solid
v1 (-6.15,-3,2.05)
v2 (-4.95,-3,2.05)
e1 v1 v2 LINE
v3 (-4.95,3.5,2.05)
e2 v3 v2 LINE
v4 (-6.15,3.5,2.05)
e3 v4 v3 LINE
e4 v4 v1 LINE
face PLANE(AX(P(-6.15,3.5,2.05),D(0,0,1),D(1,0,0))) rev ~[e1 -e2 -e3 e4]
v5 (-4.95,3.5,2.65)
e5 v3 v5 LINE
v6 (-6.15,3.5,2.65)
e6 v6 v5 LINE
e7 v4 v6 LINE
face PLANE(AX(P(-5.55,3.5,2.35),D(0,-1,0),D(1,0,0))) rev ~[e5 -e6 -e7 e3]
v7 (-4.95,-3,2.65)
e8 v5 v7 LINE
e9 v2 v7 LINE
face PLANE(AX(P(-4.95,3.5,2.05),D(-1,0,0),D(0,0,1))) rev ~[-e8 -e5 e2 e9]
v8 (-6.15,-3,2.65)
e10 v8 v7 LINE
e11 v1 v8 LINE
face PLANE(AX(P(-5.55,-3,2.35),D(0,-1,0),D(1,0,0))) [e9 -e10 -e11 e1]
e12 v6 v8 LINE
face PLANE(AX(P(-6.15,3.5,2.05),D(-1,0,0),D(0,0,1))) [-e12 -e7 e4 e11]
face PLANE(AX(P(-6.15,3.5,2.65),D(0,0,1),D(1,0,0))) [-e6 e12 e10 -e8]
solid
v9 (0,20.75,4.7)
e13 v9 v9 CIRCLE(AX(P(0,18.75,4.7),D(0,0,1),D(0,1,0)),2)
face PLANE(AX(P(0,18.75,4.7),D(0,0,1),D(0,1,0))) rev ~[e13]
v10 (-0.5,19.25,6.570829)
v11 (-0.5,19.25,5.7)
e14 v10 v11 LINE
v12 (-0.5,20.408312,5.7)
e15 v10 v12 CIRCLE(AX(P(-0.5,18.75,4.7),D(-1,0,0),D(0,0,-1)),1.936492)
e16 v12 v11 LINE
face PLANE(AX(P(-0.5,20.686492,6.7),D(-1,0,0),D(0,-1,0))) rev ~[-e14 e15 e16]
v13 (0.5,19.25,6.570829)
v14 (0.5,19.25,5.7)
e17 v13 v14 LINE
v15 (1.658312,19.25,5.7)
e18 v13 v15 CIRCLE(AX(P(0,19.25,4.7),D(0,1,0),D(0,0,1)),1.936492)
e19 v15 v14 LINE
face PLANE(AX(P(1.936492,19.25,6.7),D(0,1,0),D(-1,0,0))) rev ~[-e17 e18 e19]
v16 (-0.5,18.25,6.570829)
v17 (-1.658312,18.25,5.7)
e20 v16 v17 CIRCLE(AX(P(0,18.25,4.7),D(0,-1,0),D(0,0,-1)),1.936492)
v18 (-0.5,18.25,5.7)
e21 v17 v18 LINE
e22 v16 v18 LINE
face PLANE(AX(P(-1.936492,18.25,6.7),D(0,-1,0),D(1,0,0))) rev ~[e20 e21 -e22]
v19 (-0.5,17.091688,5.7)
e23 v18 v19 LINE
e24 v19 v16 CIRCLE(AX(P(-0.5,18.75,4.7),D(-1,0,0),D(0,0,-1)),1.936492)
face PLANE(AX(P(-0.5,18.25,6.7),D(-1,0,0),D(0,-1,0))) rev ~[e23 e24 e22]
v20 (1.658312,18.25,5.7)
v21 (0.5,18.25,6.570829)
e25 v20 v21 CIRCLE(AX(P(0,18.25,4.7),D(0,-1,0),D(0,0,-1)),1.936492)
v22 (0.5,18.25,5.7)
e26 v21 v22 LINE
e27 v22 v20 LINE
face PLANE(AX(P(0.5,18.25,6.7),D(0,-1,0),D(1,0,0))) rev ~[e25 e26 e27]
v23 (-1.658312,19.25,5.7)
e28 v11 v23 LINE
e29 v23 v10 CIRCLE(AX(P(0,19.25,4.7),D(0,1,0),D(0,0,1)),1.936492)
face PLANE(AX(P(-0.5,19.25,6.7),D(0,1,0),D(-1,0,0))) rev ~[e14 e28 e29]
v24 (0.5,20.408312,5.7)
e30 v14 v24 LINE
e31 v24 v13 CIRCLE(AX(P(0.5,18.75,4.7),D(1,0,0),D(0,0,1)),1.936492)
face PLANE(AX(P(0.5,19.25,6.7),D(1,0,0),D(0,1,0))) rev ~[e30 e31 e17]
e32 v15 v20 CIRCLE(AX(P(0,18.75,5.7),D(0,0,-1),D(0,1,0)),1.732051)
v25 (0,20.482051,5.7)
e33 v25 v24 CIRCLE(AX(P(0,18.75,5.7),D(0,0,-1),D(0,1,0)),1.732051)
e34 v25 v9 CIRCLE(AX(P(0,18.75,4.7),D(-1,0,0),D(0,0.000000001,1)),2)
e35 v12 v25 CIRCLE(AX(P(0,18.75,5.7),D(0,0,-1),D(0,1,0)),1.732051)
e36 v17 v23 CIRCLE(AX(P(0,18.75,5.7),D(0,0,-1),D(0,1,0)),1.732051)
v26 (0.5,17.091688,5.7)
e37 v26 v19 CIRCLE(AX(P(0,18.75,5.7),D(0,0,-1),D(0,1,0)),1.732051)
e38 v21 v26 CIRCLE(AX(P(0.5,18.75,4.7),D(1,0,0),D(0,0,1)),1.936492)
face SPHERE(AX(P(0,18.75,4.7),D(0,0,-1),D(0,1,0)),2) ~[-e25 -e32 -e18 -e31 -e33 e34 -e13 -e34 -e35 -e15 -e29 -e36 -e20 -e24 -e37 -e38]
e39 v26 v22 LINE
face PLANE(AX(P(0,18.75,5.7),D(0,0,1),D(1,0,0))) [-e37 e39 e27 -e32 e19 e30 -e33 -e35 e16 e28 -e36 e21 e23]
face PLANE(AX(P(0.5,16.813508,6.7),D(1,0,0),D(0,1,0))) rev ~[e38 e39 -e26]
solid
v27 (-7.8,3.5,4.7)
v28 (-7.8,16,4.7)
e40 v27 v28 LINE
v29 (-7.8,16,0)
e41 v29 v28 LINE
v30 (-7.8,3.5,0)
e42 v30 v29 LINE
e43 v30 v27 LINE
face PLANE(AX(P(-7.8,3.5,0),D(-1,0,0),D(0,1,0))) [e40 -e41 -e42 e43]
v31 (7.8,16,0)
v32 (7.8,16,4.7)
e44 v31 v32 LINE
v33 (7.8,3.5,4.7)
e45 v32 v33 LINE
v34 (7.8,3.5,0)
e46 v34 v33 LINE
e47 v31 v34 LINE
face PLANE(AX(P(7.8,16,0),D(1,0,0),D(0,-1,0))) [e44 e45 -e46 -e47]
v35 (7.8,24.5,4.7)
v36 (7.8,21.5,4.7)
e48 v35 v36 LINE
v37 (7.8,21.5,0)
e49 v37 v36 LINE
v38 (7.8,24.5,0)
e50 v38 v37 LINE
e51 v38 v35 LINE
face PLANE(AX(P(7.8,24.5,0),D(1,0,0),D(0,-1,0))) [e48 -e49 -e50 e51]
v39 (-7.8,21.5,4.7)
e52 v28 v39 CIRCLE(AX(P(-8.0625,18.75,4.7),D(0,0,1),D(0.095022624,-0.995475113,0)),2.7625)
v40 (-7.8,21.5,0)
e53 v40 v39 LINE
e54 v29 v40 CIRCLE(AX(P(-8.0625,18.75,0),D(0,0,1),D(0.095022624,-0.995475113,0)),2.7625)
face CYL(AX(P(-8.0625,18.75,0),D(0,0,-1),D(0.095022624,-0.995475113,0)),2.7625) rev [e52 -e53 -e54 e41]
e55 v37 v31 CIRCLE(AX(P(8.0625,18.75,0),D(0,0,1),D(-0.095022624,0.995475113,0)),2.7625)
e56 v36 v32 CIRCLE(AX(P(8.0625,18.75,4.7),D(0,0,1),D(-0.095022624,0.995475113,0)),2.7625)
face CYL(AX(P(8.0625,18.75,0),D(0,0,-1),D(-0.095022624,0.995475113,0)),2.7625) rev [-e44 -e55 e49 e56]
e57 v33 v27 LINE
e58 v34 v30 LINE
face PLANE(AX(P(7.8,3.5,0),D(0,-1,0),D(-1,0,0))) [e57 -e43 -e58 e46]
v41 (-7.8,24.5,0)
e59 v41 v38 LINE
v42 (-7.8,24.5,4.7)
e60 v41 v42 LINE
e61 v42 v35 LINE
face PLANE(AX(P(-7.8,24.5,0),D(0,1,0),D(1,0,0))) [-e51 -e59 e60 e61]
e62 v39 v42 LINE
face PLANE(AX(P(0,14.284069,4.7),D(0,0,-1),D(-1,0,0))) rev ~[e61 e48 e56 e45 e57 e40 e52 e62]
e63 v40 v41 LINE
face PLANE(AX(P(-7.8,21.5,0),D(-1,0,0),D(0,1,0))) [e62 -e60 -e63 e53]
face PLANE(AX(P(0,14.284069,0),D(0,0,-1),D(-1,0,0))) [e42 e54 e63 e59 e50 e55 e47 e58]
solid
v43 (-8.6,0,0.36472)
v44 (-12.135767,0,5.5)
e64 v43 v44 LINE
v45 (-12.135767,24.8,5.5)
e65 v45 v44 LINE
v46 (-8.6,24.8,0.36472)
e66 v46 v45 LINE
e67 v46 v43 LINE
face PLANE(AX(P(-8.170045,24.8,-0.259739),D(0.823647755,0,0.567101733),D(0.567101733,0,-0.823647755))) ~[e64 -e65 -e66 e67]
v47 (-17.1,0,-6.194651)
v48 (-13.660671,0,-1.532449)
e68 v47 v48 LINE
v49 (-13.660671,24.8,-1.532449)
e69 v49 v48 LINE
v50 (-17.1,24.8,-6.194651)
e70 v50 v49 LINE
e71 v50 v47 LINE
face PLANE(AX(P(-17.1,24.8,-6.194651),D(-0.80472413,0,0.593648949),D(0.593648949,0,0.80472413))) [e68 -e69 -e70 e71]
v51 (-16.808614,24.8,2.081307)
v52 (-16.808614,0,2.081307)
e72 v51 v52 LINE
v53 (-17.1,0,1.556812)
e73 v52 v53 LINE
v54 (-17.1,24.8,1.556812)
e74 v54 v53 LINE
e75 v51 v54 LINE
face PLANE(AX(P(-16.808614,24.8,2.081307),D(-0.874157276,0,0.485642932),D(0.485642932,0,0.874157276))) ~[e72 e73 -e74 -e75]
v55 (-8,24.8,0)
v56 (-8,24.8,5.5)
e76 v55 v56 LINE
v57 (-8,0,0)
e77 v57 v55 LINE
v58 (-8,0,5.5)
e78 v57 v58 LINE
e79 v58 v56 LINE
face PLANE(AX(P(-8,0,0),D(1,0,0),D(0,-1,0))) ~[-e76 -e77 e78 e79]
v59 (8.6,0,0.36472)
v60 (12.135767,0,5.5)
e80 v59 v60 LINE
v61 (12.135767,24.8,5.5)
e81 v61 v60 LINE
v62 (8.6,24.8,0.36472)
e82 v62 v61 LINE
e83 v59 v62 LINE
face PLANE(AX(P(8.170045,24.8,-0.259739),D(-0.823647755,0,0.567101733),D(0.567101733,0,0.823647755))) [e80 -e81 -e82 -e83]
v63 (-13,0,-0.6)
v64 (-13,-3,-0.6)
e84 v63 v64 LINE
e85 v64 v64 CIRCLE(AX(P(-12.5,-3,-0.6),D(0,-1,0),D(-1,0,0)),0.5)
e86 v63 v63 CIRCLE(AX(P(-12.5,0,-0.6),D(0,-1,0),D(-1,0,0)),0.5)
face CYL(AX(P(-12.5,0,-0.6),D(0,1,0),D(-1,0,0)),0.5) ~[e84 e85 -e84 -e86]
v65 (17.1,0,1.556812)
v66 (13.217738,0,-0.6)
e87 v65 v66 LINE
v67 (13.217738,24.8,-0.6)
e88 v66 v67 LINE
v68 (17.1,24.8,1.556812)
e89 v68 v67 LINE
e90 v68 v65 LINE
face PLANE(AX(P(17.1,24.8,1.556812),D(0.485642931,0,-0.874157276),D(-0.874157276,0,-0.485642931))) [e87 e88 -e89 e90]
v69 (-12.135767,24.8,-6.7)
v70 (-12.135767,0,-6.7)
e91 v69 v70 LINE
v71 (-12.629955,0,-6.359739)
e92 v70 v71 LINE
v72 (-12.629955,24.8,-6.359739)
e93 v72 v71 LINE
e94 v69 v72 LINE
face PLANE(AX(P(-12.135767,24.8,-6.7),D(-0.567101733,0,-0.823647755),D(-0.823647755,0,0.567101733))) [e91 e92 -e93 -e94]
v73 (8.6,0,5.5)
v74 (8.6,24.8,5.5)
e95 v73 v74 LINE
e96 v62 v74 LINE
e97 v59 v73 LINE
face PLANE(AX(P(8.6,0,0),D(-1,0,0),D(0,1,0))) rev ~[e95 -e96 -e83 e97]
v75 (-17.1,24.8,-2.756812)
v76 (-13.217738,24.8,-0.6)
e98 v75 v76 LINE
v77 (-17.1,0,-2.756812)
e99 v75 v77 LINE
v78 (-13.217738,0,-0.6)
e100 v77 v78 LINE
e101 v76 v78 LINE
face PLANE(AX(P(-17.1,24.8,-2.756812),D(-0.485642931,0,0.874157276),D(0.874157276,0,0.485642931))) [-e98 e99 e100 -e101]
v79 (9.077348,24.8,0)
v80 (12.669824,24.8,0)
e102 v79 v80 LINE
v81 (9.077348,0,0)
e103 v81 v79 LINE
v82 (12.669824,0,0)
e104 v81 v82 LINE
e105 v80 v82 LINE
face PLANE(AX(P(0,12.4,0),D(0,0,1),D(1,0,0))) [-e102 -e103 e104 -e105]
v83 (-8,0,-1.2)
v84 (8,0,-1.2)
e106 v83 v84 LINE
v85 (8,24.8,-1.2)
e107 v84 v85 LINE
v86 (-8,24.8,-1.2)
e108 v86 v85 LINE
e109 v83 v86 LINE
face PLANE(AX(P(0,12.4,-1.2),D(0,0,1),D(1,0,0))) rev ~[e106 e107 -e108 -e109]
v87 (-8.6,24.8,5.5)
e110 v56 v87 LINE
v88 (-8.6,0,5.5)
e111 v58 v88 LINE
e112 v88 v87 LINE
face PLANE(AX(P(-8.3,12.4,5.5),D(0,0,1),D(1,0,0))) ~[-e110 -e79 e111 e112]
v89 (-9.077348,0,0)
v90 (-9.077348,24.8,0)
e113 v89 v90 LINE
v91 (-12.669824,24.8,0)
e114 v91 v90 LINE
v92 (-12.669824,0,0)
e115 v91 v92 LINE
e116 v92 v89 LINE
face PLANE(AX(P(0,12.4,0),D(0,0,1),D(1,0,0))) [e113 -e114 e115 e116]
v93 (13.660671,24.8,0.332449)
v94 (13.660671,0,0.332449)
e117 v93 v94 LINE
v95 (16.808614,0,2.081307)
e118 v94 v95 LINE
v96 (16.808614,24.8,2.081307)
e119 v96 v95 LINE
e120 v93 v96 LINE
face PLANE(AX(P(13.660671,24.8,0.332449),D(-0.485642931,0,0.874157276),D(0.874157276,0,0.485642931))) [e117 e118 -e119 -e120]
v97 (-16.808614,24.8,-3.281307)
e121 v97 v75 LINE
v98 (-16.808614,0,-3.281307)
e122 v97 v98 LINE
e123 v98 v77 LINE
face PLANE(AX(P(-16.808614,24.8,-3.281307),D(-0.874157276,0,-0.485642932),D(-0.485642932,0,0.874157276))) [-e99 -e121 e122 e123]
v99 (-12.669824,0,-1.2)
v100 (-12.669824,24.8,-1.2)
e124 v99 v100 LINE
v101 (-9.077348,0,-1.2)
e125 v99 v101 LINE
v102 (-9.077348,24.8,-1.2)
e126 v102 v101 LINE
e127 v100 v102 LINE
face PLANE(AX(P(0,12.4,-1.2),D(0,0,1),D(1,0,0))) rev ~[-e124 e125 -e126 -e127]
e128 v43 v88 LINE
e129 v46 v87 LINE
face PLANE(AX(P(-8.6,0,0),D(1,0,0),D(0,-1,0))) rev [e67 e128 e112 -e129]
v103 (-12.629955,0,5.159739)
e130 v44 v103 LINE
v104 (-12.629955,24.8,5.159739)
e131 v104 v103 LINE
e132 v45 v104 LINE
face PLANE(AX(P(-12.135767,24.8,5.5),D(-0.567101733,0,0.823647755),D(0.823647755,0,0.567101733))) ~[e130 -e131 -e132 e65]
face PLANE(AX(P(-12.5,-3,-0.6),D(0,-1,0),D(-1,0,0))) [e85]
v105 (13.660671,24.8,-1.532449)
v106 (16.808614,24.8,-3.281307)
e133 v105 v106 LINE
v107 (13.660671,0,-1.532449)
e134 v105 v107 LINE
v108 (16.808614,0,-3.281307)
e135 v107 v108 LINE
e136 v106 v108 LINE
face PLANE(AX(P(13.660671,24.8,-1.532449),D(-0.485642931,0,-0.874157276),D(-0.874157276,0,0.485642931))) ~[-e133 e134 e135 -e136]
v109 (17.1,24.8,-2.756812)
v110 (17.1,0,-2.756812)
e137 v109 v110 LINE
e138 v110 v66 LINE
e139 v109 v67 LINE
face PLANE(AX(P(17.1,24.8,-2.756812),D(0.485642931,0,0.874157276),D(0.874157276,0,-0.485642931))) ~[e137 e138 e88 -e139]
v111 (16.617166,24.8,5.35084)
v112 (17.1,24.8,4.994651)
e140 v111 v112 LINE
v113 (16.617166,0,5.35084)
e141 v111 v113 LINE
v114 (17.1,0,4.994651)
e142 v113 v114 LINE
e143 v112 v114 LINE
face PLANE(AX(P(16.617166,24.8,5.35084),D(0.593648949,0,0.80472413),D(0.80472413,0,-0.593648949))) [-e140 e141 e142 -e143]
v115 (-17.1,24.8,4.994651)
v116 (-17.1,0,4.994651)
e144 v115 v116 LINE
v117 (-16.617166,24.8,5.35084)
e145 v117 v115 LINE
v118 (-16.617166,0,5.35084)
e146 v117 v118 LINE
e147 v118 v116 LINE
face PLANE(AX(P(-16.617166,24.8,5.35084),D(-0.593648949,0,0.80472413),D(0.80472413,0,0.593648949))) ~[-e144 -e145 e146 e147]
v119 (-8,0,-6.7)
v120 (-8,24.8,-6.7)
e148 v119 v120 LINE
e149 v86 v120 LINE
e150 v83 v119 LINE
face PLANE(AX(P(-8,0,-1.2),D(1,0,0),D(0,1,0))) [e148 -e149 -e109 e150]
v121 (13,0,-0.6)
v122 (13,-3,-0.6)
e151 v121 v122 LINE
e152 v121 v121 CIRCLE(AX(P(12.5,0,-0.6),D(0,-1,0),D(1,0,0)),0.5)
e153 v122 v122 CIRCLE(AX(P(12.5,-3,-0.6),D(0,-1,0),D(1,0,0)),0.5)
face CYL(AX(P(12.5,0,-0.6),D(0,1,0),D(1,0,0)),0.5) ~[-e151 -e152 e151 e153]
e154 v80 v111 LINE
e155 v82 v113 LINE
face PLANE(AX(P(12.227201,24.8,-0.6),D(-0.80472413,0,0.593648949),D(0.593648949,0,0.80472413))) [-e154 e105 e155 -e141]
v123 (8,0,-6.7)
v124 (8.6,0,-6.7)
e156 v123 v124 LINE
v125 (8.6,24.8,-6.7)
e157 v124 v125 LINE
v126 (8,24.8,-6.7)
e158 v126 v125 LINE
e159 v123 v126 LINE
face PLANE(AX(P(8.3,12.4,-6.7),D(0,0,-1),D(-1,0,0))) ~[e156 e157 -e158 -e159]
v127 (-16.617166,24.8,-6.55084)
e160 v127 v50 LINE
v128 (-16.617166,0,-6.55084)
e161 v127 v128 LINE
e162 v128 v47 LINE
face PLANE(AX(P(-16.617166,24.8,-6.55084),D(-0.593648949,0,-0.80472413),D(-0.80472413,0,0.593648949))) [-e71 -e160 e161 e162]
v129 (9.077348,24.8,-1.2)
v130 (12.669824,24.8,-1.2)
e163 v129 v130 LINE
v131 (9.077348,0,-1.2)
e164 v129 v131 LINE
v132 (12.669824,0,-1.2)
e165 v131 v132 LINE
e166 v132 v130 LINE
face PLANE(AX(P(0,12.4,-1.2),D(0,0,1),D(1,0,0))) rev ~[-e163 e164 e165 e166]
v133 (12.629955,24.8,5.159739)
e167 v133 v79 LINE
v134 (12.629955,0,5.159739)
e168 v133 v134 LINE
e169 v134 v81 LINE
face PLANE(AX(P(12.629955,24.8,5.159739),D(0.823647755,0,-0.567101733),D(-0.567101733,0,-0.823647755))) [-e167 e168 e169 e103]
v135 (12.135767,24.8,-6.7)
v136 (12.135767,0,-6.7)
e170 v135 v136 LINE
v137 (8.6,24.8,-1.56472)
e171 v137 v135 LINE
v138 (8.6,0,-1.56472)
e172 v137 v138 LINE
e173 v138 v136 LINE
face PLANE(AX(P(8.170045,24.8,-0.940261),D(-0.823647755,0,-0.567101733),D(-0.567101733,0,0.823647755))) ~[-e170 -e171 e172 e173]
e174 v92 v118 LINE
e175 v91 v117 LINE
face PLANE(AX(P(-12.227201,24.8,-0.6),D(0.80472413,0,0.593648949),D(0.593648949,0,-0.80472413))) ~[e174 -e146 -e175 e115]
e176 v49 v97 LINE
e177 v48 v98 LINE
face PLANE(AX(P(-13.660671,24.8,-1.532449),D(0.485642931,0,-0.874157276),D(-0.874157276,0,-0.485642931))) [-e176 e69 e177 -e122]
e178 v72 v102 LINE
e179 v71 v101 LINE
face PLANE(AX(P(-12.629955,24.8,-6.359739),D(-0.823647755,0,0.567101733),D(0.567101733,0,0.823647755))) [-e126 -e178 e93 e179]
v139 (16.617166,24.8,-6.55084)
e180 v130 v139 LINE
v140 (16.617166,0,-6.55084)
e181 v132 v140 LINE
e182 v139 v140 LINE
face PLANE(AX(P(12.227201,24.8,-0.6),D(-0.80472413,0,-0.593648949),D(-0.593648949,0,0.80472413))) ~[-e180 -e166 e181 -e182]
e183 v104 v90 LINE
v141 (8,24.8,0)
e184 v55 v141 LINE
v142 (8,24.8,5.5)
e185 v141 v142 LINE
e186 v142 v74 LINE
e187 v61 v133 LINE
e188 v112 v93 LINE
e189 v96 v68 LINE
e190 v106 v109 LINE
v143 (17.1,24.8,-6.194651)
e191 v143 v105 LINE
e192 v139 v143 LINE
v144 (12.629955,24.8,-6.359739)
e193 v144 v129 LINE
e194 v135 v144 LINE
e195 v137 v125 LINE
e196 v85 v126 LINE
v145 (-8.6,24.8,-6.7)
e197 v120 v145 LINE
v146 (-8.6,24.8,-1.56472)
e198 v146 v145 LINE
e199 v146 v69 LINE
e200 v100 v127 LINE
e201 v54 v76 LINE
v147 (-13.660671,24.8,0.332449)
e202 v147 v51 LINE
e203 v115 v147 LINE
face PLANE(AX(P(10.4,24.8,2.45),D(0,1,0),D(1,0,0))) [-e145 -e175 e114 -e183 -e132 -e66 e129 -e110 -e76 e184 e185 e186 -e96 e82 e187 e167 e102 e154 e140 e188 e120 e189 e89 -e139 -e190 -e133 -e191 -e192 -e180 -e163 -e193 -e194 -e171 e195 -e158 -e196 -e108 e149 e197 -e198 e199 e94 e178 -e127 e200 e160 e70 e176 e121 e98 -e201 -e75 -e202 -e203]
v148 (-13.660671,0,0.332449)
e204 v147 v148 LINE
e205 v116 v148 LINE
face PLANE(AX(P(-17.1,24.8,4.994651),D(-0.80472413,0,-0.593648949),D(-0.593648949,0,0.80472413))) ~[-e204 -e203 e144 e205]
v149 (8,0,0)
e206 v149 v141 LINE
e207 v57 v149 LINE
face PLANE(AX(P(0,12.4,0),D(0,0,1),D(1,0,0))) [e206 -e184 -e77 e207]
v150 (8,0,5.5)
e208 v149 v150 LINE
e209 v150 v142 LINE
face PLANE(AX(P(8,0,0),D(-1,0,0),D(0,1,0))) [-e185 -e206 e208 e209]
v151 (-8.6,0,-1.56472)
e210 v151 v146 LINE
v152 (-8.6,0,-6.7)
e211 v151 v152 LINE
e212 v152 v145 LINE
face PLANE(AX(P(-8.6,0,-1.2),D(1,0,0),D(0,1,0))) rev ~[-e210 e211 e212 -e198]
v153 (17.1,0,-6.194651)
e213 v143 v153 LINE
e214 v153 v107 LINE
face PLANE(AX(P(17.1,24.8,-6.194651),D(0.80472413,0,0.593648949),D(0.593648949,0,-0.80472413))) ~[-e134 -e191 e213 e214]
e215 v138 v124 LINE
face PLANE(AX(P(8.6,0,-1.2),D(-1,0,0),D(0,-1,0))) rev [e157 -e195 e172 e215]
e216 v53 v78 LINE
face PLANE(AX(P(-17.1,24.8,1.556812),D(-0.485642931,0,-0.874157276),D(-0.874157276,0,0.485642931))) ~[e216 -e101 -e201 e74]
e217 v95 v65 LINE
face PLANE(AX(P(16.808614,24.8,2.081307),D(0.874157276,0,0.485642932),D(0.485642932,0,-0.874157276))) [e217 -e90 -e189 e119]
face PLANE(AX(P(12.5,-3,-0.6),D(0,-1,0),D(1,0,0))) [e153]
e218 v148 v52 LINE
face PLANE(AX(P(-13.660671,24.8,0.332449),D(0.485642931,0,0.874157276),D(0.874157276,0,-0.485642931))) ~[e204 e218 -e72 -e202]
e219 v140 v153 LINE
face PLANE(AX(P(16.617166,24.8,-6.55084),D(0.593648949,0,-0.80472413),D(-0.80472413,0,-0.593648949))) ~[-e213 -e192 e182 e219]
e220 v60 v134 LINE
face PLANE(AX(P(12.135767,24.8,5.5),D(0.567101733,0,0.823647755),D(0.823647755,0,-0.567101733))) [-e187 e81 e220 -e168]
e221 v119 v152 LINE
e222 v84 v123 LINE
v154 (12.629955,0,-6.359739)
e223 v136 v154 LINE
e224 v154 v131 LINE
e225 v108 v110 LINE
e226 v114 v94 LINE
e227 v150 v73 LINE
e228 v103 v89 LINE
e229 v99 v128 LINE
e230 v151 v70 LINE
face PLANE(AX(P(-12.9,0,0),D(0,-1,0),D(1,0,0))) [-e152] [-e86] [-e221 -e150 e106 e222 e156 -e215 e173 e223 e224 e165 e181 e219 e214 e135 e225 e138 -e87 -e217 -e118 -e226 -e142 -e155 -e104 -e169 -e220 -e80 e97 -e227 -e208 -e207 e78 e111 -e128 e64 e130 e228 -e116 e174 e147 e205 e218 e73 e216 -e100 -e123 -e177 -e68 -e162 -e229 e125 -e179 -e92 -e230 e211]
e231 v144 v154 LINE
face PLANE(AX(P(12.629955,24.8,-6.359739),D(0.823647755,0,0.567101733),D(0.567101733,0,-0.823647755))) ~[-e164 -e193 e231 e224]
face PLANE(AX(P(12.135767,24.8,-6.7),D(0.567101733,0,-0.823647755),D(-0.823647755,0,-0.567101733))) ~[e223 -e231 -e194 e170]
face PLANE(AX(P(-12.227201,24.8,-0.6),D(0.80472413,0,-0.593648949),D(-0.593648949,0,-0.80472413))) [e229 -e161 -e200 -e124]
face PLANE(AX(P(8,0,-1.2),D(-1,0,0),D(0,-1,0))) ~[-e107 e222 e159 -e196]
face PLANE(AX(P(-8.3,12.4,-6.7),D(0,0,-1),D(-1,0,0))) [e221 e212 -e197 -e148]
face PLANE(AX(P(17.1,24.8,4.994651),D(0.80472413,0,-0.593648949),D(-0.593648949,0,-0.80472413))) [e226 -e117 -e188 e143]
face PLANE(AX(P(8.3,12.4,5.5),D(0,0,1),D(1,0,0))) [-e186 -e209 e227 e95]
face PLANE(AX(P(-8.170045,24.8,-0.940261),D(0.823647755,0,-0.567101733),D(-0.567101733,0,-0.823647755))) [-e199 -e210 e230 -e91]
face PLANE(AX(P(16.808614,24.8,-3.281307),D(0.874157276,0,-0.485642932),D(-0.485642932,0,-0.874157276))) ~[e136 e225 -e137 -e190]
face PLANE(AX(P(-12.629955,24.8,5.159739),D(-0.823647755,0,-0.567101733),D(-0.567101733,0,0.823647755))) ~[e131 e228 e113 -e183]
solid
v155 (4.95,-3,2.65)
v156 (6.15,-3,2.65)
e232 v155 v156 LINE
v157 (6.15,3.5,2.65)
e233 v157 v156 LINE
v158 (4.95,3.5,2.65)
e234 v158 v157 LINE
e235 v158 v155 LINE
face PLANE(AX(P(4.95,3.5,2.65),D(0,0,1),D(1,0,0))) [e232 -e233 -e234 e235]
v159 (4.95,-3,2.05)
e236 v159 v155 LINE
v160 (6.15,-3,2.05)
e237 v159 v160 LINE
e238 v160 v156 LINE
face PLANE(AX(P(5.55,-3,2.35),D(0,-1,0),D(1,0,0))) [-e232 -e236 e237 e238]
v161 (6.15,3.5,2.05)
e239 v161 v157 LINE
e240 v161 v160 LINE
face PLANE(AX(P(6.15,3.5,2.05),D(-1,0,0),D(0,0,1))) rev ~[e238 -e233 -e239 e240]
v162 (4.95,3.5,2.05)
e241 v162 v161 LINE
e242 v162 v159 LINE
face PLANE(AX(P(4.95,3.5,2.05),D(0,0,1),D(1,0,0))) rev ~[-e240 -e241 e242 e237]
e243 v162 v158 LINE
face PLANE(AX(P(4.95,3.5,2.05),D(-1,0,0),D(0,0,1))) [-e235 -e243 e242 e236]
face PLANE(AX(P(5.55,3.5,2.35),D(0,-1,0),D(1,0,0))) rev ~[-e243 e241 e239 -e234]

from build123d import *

# Parameters (mm, degrees)
CROQUIS1_W                = 25.8
CROQUIS1_H                = 24.8
SALIENTE_EXTRUIR1_DEPTH   = 1.2
CROQUIS2_W                = 0.6
CROQUIS2_H                = 24.8
SALIENTE_EXTRUIR2_DEPTH   = 5.5
SALIENTE_EXTRUIR3_DEPTH   = 24.8
SIMETR_A2_COPY_1_SKETCH_W = 0.6
SIMETR_A2_COPY_1_SKETCH_H = 24.8
SIMETR_A2_COPY_1_DEPTH    = 5.5
SIMETR_A2_COPY_2_DEPTH    = 24.8
CROQUIS4_R                = 0.5
SALIENTE_EXTRUIR4_DEPTH   = 3
SALIENTE_EXTRUIR5_DEPTH   = 4.7
CROQUIS6_W                = 1.2
CROQUIS6_H                = 0.6
SALIENTE_EXTRUIR6_DEPTH   = 6.5
SALIENTE_EXTRUIR6_2_DEPTH = 6.5
CORTAR_EXTRUIR1_DEPTH     = 1


with BuildPart() as part:
    # Croquis1 → Saliente-Extruir1 (new body)
    with BuildSketch(Plane.XY):
        with Locations((0, 12.4)):
            Rectangle(CROQUIS1_W, CROQUIS1_H)
    extrude(amount=-SALIENTE_EXTRUIR1_DEPTH)

    # Croquis2 → Saliente-Extruir2 (add)
    with BuildSketch(Plane.XY):
        with Locations((8.3, 12.4)):
            Rectangle(CROQUIS2_W, CROQUIS2_H)
    saliente_extruir2 = extrude(amount=SALIENTE_EXTRUIR2_DEPTH)

    # Croquis3 → Saliente-Extruir3 (add)
    with BuildSketch(Plane(origin=(0, 24.8, 0), x_dir=(1, 0, 0), z_dir=(0, 1, 0))):
        Polygon((8.17004472, 0.25973896), (12.135766627, -5.5), (12.62995528, -5.15973896), (8.664233373, 0.6), align=None)
        Polygon((12.227201436, 0.6), (16.617165522, -5.350840205), (17.1, -4.994650836), (13.660671044, -0.332449363), (16.808614241, -2.081306694), (17.1, -1.556812329), (12.802701866, 0.830575524), (12.710035914, 0.956189369), align=None)
    saliente_extruir3 = extrude(amount=-SALIENTE_EXTRUIR3_DEPTH)

    # Simetría1: Saliente-Extruir2, Saliente-Extruir3 across plane
    add(saliente_extruir2.mirror(Plane.XY.offset(-0.6)))
    add(saliente_extruir3.mirror(Plane.XY.offset(-0.6)))

    # Simetría2: Saliente-Extruir2, Saliente-Extruir3 across plane
    add(saliente_extruir2.mirror(Plane(origin=(0, 0, 0), x_dir=(0, 0, 1), z_dir=(1, 0, 0))))
    add(saliente_extruir3.mirror(Plane(origin=(0, 0, 0), x_dir=(0, 0, 1), z_dir=(1, 0, 0))))

    # Simetría2 copy 1 sketch → Simetría2 copy 1 (add)
    with BuildSketch(Plane(origin=(0, 0, -1.2), x_dir=(-1, 0, 0), z_dir=(0, 0, -1))):
        with Locations((8.3, 12.4)):
            Rectangle(SIMETR_A2_COPY_1_SKETCH_W, SIMETR_A2_COPY_1_SKETCH_H)
    extrude(amount=SIMETR_A2_COPY_1_DEPTH)

    # Simetría2 copy 2 sketch → Simetría2 copy 2 (add)
    with BuildSketch(Plane(origin=(0, 24.8, -1.2), x_dir=(-1, 0, 0), z_dir=(0, 1, 0))):
        Polygon((8.17004472, 0.25973896), (12.135766627, -5.5), (12.62995528, -5.15973896), (8.664233373, 0.6), align=None)
        Polygon((12.227201436, 0.6), (16.617165522, -5.350840205), (17.1, -4.994650836), (13.660671044, -0.332449363), (16.808614241, -2.081306694), (17.1, -1.556812329), (12.802701866, 0.830575524), (12.710035914, 0.956189369), align=None)
    extrude(amount=-SIMETR_A2_COPY_2_DEPTH)

    # Croquis4 → Saliente-Extruir4 (add)
    with BuildSketch(Plane.XZ):
        with Locations((12.5, -0.6)):
            Circle(CROQUIS4_R)
        with Locations(Location((-12.5, -0.6, 0), (0, 0, 180))):
            Circle(CROQUIS4_R)
    extrude(amount=SALIENTE_EXTRUIR4_DEPTH)


with BuildPart() as body_2:
    # Croquis5 → Saliente-Extruir5 (new body)
    with BuildSketch(Plane.XY):
        with BuildLine():
            Line((-7.8, 24.5), (7.8, 24.5))
            Line((7.8, 24.5), (7.8, 21.5))
            ThreePointArc((7.8, 21.5), (5.3, 18.75), (7.8, 16))
            Line((7.8, 16), (7.8, 3.5))
            Line((7.8, 3.5), (-7.8, 3.5))
            Line((-7.8, 3.5), (-7.8, 16))
            ThreePointArc((-7.8, 16), (-5.3, 18.75), (-7.8, 21.5))
            Line((-7.8, 21.5), (-7.8, 24.5))
        make_face()
    extrude(amount=SALIENTE_EXTRUIR5_DEPTH)


with BuildPart() as body_3:
    # Croquis6 → Saliente-Extruir6 (new body)
    with BuildSketch(Plane.XZ.offset(-3.5)):
        with Locations((-5.55, 2.35)):
            Rectangle(CROQUIS6_W, CROQUIS6_H)
    extrude(amount=SALIENTE_EXTRUIR6_DEPTH)


with BuildPart() as body_4:
    # Croquis6 → Saliente-Extruir6 2 (new body)
    with BuildSketch(Plane.XZ.offset(-3.5)):
        with Locations((5.55, 2.35)):
            Rectangle(CROQUIS6_W, CROQUIS6_H)
    extrude(amount=SALIENTE_EXTRUIR6_2_DEPTH)


with BuildPart() as body_5:
    # Croquis7 → Revolución1 (revolve)
    with BuildSketch(Plane(origin=(0, 0, 0), x_dir=(0, 0, -1), z_dir=(1, 0, 0))):
        with BuildLine():
            Line((-4.7, 18.75), (-6.7, 18.75))
            ThreePointArc((-6.7, 18.75), (-6.114213562, 20.164213562), (-4.7, 20.75))
            Line((-4.7, 20.75), (-4.7, 18.75))
        make_face()
    revolve(axis=Axis((0, 18.75, 4.7), (0, 0, 1)))

    # Croquis8 → Cortar-Extruir1 (cut)
    with BuildSketch(Plane.XY.offset(6.7)):
        Polygon((0.5, 18.25), (1.936491673, 18.25), (1.936491673, 19.25), (0.5, 19.25), (0.5, 20.686491673), (-0.5, 20.686491673), (-0.5, 19.25), (-1.936491673, 19.25), (-1.936491673, 18.25), (-0.5, 18.25), (-0.5, 16.813508327), (0.5, 16.813508327), align=None)
    extrude(amount=-CORTAR_EXTRUIR1_DEPTH, mode=Mode.SUBTRACT)


solid = Compound([part.part, body_2.part, body_3.part, body_4.part, body_5.part])
